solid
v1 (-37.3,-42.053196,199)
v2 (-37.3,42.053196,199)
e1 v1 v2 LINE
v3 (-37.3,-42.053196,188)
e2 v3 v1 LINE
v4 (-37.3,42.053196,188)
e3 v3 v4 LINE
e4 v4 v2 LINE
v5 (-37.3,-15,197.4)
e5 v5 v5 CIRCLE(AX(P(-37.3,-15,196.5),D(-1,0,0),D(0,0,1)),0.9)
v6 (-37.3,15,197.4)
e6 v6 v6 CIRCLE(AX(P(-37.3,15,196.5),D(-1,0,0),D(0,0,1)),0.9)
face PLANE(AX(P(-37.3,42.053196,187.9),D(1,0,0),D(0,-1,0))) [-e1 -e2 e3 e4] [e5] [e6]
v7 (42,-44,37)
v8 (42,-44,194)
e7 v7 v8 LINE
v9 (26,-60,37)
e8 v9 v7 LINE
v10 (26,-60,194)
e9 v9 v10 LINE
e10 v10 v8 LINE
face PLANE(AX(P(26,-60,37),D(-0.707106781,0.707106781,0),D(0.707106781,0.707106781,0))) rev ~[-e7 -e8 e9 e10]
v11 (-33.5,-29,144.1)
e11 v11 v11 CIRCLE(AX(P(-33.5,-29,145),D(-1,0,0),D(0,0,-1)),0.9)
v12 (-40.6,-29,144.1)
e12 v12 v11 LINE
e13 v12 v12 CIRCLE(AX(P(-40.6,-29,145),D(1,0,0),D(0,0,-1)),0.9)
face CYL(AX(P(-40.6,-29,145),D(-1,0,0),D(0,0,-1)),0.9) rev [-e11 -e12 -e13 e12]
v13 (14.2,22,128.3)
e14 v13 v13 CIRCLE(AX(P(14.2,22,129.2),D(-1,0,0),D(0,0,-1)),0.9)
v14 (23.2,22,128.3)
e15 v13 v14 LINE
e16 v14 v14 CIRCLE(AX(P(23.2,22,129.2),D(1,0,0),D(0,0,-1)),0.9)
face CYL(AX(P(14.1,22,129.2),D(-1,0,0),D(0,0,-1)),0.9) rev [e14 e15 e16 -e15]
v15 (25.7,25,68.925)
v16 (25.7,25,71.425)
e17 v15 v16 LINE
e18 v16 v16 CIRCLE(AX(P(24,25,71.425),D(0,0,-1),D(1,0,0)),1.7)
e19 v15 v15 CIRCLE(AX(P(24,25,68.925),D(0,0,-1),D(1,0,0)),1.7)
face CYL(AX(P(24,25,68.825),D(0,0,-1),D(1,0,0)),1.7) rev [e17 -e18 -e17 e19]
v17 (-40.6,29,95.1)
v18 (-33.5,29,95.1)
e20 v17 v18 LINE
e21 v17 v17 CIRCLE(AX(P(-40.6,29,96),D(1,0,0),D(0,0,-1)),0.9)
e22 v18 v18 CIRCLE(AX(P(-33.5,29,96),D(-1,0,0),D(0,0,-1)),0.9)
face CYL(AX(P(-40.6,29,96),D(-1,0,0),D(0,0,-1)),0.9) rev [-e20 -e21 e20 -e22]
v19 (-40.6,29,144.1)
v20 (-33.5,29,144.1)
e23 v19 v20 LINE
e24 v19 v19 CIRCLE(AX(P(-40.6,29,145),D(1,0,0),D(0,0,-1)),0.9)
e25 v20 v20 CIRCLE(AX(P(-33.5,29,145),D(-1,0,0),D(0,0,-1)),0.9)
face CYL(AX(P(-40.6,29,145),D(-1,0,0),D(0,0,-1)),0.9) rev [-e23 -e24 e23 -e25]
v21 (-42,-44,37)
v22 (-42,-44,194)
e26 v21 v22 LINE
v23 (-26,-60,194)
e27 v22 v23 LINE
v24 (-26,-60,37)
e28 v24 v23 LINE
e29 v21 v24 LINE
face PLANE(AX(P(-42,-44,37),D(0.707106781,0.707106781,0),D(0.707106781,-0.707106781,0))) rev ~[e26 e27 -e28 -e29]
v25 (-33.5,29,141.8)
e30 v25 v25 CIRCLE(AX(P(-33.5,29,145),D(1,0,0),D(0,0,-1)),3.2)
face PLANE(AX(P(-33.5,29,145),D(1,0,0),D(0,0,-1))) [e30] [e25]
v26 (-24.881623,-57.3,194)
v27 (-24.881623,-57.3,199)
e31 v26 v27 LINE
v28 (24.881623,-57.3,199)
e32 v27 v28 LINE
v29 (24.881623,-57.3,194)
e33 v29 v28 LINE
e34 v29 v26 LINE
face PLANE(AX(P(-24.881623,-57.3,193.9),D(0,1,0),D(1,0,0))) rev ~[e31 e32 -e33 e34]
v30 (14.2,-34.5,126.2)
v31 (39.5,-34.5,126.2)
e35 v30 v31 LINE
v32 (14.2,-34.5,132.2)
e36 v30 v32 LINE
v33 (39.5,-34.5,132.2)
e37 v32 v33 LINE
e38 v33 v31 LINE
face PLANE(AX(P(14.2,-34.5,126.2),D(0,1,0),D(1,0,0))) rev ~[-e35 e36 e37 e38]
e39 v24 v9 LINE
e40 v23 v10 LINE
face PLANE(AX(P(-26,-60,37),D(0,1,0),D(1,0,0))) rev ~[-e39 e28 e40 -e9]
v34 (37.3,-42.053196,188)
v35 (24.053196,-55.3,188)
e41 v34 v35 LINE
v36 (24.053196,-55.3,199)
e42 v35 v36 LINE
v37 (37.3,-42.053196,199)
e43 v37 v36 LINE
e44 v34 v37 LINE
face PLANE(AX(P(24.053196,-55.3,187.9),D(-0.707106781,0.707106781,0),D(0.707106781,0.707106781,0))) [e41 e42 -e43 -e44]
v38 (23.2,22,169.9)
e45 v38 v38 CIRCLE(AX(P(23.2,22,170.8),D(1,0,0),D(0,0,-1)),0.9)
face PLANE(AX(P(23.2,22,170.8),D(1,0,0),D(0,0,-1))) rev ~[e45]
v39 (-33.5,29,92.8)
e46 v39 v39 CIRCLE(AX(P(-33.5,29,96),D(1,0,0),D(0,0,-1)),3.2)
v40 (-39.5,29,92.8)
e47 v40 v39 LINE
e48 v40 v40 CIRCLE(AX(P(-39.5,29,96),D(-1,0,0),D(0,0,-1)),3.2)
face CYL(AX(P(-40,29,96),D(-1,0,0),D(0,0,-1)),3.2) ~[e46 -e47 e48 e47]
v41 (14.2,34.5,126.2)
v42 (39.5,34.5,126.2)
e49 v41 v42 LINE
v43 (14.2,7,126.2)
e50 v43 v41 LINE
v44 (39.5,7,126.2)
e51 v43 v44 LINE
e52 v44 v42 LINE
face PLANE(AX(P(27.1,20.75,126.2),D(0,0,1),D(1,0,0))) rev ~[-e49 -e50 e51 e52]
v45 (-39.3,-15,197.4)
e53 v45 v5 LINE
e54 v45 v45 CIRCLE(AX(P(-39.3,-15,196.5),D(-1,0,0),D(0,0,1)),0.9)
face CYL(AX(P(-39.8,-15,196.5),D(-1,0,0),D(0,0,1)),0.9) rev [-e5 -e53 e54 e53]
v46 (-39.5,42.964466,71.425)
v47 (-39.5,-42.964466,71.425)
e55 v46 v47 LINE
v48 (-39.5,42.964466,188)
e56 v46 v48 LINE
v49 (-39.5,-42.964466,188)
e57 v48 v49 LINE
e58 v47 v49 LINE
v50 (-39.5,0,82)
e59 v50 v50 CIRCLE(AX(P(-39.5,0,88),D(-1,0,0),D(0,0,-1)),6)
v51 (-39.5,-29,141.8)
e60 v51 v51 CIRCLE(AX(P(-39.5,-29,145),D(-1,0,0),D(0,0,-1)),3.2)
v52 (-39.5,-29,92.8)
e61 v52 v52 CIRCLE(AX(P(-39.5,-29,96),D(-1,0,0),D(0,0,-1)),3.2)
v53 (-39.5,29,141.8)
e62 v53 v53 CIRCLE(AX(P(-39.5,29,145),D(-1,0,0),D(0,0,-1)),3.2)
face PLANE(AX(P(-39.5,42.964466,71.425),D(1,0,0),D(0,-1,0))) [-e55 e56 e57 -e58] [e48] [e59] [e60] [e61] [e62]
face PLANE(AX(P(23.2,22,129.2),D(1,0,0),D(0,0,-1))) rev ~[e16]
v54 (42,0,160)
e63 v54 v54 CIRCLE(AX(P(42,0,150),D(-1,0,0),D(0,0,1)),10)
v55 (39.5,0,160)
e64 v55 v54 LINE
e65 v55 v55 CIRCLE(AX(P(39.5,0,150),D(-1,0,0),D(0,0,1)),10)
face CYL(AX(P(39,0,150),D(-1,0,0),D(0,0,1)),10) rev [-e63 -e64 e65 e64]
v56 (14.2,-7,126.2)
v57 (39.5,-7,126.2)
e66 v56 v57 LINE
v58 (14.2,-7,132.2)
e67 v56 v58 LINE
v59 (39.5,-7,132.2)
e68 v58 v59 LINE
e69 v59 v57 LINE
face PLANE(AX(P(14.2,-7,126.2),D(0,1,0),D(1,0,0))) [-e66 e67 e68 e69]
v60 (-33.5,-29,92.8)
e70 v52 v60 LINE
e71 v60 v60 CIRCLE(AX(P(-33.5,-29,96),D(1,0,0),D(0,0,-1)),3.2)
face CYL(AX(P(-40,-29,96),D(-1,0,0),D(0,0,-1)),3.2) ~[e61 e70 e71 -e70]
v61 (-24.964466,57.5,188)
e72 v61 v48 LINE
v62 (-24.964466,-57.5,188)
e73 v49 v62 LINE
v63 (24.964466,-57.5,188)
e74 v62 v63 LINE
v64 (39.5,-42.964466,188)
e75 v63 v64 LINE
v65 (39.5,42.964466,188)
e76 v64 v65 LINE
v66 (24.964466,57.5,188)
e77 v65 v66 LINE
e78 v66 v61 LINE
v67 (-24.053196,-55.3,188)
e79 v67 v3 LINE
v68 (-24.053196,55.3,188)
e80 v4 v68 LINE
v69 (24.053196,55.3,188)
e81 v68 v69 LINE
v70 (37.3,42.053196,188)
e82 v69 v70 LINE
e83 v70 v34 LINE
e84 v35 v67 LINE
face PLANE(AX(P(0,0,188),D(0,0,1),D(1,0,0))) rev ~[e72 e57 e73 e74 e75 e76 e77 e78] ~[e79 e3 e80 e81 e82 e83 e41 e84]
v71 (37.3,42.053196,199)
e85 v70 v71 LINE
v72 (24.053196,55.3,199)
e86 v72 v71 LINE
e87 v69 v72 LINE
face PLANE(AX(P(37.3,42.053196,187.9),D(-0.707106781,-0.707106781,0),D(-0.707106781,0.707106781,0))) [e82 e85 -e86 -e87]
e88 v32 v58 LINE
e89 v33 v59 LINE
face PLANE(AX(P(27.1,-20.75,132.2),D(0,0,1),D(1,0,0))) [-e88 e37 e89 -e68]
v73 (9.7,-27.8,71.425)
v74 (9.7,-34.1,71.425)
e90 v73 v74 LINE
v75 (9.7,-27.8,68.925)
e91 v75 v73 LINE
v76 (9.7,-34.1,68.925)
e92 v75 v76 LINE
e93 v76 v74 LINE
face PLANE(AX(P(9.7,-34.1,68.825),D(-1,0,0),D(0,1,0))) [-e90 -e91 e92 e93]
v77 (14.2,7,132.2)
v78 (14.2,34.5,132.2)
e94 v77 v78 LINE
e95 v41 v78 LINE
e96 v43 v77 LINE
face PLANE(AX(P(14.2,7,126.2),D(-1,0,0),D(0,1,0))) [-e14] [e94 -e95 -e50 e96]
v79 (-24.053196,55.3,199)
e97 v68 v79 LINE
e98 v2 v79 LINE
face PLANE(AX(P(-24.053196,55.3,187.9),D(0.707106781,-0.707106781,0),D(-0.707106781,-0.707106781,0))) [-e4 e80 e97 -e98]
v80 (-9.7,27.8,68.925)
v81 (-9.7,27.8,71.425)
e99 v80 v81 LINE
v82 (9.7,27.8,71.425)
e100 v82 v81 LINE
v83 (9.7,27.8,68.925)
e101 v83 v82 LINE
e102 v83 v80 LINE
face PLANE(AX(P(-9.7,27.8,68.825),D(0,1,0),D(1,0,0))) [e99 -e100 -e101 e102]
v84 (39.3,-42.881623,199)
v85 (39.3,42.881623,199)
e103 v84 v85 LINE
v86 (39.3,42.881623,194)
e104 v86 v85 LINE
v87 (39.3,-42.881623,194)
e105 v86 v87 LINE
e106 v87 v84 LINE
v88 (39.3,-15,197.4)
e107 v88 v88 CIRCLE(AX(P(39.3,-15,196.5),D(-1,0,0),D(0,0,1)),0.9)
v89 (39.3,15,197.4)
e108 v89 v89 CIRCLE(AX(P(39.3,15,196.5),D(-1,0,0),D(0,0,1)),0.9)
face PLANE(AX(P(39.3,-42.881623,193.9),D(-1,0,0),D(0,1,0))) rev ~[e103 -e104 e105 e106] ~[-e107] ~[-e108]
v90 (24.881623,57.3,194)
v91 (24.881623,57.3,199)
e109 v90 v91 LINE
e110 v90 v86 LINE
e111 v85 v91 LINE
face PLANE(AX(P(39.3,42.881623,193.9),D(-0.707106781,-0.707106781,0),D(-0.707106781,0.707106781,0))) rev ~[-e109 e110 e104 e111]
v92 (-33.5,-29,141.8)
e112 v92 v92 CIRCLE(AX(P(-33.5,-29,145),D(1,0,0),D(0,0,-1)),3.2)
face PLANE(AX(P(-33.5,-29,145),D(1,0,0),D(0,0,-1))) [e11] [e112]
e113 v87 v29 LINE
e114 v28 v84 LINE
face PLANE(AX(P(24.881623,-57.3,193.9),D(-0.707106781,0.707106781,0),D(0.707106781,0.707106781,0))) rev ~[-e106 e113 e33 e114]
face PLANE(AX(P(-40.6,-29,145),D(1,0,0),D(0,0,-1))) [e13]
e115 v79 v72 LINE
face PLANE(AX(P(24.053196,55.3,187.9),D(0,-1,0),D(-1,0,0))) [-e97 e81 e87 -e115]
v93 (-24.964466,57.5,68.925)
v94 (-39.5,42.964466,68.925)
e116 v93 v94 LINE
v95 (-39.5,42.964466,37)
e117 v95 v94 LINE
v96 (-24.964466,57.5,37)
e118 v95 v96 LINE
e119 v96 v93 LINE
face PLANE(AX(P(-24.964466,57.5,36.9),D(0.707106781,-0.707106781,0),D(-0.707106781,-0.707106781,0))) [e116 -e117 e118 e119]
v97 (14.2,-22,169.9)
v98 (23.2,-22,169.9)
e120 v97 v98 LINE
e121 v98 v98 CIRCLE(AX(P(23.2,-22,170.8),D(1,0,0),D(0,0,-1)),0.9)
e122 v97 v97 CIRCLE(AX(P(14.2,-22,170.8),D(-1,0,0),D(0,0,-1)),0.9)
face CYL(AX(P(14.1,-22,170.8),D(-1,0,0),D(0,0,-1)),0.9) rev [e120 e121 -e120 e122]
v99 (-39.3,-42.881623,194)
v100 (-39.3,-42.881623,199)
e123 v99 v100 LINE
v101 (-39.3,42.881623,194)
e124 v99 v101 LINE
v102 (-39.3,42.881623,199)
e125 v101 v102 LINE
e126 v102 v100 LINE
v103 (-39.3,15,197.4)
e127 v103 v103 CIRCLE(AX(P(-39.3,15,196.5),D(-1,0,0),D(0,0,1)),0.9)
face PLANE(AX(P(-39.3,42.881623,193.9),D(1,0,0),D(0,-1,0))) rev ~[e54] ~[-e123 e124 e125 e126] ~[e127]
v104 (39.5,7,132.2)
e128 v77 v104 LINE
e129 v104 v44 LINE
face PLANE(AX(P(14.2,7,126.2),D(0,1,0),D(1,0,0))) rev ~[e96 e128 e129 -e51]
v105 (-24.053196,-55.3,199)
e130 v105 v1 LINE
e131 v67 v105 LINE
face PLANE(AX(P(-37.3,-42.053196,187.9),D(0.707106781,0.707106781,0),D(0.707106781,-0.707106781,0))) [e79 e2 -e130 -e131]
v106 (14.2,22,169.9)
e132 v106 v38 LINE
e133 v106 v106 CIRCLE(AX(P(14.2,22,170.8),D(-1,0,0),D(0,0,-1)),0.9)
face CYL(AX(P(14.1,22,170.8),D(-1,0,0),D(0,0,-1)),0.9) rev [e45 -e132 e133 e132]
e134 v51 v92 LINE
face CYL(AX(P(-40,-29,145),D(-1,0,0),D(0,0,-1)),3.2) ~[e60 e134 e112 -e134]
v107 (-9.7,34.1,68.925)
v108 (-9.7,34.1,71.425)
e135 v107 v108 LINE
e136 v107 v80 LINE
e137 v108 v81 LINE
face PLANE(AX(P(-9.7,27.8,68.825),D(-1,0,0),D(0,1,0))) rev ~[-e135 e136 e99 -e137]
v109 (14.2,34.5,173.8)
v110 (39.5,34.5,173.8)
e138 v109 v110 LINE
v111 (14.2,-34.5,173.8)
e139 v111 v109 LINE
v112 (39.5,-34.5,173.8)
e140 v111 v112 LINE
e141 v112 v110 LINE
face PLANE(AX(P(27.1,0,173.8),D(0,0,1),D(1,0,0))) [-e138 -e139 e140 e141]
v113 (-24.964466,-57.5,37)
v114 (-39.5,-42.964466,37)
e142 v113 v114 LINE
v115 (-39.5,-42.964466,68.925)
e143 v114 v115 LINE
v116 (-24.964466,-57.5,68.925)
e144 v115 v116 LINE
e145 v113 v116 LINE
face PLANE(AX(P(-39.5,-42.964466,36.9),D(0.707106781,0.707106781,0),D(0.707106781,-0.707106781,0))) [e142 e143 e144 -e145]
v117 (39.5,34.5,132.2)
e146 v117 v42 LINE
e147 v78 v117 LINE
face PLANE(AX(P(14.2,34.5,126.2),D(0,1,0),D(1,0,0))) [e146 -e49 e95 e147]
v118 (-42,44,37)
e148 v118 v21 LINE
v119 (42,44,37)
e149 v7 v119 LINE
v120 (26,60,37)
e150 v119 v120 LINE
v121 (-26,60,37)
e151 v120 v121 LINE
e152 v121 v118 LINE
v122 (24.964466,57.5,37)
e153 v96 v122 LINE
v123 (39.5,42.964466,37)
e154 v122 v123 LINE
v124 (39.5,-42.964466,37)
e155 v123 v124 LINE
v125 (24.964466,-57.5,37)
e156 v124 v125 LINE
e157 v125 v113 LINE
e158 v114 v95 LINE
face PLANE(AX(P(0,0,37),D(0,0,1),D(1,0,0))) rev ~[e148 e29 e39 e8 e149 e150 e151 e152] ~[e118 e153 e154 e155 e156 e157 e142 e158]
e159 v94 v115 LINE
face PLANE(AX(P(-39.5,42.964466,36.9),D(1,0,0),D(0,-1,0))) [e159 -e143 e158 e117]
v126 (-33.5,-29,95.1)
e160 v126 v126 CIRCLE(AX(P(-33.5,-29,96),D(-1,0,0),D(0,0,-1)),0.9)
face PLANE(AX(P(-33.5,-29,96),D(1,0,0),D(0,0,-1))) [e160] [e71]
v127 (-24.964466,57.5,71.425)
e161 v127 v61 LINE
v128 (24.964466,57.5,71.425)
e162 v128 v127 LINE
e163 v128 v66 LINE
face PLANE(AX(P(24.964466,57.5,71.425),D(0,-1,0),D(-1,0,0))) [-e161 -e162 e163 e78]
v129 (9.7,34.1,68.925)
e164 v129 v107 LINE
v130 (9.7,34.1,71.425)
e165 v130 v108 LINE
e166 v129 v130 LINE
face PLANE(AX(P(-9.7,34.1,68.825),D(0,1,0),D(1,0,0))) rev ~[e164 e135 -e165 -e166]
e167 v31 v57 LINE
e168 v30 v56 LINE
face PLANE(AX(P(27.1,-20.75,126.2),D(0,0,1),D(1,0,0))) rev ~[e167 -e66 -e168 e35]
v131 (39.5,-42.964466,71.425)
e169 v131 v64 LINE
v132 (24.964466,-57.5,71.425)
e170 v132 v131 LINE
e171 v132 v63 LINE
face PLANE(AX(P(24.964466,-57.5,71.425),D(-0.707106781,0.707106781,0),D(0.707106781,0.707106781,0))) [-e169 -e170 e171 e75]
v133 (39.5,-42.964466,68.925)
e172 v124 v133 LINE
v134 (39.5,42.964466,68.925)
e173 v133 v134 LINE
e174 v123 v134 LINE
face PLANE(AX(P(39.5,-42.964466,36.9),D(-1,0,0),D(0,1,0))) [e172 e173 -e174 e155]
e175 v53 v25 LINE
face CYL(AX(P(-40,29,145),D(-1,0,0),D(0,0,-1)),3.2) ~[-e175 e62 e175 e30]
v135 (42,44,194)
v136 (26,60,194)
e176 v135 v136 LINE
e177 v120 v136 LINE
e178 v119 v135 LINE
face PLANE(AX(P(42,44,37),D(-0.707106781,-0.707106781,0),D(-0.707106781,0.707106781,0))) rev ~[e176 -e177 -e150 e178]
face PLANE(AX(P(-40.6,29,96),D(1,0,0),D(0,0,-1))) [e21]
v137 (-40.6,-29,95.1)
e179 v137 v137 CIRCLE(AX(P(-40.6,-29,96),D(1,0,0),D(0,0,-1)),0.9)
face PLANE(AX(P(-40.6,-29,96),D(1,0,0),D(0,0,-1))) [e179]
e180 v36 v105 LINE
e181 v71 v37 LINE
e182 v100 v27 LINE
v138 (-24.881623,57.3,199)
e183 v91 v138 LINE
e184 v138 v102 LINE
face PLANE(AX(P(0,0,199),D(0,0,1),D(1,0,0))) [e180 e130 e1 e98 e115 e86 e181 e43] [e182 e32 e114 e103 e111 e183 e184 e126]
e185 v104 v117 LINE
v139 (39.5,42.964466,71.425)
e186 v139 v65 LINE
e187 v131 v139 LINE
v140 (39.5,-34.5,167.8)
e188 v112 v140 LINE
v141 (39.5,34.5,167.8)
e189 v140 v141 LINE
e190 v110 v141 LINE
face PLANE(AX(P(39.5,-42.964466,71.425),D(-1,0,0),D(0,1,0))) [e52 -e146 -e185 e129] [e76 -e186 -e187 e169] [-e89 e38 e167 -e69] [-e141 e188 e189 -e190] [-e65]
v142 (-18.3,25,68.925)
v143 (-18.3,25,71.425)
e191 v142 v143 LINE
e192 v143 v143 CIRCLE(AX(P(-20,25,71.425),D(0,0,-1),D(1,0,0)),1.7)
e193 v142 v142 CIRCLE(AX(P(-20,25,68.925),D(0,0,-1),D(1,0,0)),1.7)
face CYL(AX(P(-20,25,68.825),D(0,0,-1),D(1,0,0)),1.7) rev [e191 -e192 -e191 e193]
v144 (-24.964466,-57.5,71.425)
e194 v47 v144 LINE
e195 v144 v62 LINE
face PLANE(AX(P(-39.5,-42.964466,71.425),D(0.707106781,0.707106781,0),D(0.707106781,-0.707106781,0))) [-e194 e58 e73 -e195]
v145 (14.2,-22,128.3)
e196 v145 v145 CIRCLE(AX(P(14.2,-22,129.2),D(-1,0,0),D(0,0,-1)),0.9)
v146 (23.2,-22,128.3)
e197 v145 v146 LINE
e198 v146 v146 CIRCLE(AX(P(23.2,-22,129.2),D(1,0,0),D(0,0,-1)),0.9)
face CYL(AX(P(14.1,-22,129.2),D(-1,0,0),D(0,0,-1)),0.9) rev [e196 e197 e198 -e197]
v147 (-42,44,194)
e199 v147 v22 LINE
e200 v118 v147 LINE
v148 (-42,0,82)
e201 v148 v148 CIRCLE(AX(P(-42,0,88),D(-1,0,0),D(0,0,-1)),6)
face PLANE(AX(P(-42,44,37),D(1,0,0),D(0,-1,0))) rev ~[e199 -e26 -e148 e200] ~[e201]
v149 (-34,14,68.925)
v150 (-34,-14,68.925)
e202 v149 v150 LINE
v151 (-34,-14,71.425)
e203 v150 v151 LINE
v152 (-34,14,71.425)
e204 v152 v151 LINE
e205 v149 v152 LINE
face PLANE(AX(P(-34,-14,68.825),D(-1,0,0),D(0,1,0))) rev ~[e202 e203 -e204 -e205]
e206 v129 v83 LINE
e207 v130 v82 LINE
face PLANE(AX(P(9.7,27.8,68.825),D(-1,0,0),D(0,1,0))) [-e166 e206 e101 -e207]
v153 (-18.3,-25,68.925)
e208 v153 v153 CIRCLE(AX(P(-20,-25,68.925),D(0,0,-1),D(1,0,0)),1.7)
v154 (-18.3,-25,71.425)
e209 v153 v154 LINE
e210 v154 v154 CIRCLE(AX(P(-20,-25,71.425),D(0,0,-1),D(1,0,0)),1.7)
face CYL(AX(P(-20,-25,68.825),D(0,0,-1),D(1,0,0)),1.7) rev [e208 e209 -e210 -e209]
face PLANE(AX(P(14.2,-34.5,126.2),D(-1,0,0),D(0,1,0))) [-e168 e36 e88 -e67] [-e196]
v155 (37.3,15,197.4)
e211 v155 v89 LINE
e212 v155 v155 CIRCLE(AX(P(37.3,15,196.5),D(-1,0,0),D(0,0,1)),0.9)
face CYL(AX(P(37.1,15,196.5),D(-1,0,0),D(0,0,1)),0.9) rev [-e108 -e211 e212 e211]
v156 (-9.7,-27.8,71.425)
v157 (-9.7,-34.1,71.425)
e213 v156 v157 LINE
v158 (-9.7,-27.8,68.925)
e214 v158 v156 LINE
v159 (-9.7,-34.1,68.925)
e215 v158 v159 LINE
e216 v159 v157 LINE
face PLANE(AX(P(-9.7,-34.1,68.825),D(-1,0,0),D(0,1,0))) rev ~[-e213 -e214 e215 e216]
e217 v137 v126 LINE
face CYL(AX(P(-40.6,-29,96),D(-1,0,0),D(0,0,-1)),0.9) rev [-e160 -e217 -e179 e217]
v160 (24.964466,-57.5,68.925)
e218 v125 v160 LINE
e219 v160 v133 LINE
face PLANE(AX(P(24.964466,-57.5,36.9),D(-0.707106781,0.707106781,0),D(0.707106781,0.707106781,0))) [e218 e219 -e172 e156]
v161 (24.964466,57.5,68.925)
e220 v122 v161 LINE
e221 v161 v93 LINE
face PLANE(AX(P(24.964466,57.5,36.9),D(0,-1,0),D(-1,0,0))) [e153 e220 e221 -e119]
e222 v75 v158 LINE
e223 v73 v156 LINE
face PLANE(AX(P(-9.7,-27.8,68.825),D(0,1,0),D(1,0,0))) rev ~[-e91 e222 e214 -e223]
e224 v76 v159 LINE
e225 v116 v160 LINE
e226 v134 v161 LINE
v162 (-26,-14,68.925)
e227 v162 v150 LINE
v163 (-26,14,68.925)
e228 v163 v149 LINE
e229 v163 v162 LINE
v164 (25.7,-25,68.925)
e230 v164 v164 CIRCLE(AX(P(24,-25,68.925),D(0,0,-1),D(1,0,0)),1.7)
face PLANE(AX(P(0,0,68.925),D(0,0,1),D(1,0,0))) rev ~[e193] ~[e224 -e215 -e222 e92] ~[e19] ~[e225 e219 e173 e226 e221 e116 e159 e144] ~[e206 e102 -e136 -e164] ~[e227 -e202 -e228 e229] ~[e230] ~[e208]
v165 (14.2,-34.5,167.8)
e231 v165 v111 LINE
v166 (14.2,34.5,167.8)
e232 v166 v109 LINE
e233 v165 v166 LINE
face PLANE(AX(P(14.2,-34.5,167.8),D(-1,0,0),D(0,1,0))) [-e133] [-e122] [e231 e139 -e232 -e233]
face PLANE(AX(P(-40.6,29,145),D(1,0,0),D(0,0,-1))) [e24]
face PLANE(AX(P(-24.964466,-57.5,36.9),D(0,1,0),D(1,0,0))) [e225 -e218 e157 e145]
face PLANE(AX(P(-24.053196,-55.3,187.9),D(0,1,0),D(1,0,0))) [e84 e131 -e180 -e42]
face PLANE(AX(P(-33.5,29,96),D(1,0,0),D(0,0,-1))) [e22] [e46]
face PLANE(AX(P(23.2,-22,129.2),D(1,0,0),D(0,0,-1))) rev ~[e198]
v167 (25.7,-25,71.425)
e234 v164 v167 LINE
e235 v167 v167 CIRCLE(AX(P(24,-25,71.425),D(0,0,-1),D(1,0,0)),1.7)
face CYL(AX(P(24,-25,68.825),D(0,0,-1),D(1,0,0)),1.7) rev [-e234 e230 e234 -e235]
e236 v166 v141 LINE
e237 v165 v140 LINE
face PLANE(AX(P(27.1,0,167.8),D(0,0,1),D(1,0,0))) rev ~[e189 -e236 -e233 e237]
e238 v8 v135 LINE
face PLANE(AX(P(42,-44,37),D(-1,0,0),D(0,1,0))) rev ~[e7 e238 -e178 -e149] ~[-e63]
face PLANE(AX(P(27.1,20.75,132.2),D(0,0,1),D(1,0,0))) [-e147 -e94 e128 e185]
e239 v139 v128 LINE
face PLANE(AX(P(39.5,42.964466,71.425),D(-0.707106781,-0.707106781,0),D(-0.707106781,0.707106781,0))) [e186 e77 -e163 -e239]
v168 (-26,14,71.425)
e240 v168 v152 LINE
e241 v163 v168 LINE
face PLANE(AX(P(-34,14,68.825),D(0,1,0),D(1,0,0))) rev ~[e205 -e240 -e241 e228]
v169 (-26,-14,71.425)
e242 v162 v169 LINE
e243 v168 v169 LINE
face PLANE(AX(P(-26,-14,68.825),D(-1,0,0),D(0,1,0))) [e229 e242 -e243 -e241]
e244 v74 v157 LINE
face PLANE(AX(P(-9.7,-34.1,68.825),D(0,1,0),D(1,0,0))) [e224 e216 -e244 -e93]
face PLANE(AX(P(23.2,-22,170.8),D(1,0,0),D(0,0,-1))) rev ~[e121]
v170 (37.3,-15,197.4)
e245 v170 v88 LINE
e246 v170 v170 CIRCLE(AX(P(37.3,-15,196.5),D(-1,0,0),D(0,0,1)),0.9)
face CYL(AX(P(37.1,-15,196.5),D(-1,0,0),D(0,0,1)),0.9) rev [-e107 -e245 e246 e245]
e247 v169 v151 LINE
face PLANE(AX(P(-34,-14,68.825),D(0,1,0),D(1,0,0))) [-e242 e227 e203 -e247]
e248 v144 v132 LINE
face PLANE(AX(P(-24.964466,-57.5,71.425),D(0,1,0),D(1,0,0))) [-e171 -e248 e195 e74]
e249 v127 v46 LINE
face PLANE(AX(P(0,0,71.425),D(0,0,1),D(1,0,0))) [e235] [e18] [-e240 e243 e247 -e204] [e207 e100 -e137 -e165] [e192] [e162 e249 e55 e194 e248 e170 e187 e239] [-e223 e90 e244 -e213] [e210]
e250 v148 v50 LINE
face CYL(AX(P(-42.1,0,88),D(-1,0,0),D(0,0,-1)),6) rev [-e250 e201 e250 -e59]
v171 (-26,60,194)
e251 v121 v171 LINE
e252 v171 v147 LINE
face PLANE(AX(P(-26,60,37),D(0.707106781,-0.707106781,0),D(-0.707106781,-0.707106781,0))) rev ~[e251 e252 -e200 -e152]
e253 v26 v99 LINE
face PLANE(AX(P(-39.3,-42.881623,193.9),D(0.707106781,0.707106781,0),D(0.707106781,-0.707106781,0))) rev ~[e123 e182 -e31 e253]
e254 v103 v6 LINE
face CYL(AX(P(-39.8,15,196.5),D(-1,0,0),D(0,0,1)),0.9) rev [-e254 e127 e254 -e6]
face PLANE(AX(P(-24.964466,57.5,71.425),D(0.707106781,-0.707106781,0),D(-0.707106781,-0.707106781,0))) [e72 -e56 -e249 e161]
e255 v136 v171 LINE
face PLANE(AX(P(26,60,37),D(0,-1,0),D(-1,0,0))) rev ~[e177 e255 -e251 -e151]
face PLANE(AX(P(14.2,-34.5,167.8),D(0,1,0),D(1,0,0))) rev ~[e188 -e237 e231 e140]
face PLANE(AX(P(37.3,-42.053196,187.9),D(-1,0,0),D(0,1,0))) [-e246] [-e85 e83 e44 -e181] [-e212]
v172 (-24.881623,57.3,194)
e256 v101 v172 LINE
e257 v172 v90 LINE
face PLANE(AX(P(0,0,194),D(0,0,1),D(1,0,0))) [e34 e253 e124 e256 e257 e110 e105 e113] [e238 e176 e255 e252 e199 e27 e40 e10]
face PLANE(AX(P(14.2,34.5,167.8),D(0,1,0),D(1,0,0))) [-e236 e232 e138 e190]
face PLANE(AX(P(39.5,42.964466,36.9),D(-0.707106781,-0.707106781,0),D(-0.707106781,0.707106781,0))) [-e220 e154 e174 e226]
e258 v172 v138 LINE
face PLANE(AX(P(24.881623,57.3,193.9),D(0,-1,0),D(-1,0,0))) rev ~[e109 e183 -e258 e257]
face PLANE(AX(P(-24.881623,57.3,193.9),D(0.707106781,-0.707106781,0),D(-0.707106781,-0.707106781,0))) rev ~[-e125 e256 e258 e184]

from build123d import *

# Parameters (mm, degrees)
BOSS_1_DEPTH   = 157
CUT_2_DEPTH    = 122.675
CUT_3_DEPTH    = 32.025
S_CUT4_W       = 8
S_CUT4_H       = 28
POCKET_4_DEPTH = 2.7
S_HOLE5_R      = 6
HOLE_5_DEPTH   = 2.7
S_CUT6_W       = 19.4
S_CUT6_H       = 6.3
POCKET_6_DEPTH = 2.7
S_CUT7_W       = 19.4
S_CUT7_H       = 6.3
POCKET_7_DEPTH = 2.7
S_HOLE8_R      = 1.7
HOLE_8_DEPTH   = 2.7
S_HOLE9_R      = 1.7
HOLE_9_DEPTH   = 2.7
S_HOLE10_R     = 1.7
HOLE_10_DEPTH  = 2.7
S_HOLE11_R     = 1.7
HOLE_11_DEPTH  = 2.7
BOSS_12_DEPTH  = 6
BOSS_13_DEPTH  = 5.1
S_CYL14_R      = 3.2
BOSS_14_DEPTH  = 6.5
S_CYL15_R      = 3.2
BOSS_15_DEPTH  = 6.5
S_CYL16_R      = 3.2
BOSS_16_DEPTH  = 6.5
S_CYL17_R      = 3.2
BOSS_17_DEPTH  = 6.5
S_BOX18_W      = 25.8
S_BOX18_H      = 27.5
BOSS_18_DEPTH  = 6
S_BOX19_W      = 25.8
S_BOX19_H      = 27.5
BOSS_19_DEPTH  = 6
S_BOX20_W      = 25.8
S_BOX20_H      = 69
BOSS_20_DEPTH  = 6
CUT_21_DEPTH   = 11.2
S_HOLE22_R     = 0.9
HOLE_22_DEPTH  = 2.7
S_HOLE23_R     = 0.9
HOLE_23_DEPTH  = 2.7
S_HOLE24_R     = 0.9
HOLE_24_DEPTH  = 2.7
S_HOLE25_R     = 0.9
HOLE_25_DEPTH  = 2.7
S_HOLE26_R     = 0.9
HOLE_26_DEPTH  = 7.2
S_HOLE27_R     = 0.9
HOLE_27_DEPTH  = 7.2
S_HOLE28_R     = 0.9
HOLE_28_DEPTH  = 7.2
S_HOLE29_R     = 0.9
HOLE_29_DEPTH  = 7.2
S_HOLE30_R     = 10
HOLE_30_DEPTH  = 3.1
S_HOLE31_R     = 0.9
HOLE_31_DEPTH  = 9.1
S_HOLE32_R     = 0.9
HOLE_32_DEPTH  = 9.1
S_HOLE33_R     = 0.9
HOLE_33_DEPTH  = 9.1
S_HOLE34_R     = 0.9
HOLE_34_DEPTH  = 9.1


with BuildPart() as part:
    # S_prism1 → Boss_1 (new body)
    with BuildSketch(Plane.XY.offset(37)):
        Polygon((42, -44), (42, 44), (26, 60), (-26, 60), (-42, 44), (-42, -44), (-26, -60), (26, -60), align=None)
    extrude(amount=BOSS_1_DEPTH)

    # S_pcut2 → Cut_2 (cut)
    with BuildSketch(Plane.XY.offset(71.425)):
        Polygon((39.5, -42.964466094), (39.5, 42.964466094), (24.964466094, 57.5), (-24.964466094, 57.5), (-39.5, 42.964466094), (-39.5, -42.964466094), (-24.964466094, -57.5), (24.964466094, -57.5), align=None)
    extrude(amount=CUT_2_DEPTH, mode=Mode.SUBTRACT)

    # S_pcut3 → Cut_3 (cut)
    with BuildSketch(Plane.XY.offset(36.9)):
        Polygon((39.5, -42.964466094), (39.5, 42.964466094), (24.964466094, 57.5), (-24.964466094, 57.5), (-39.5, 42.964466094), (-39.5, -42.964466094), (-24.964466094, -57.5), (24.964466094, -57.5), align=None)
    extrude(amount=CUT_3_DEPTH, mode=Mode.SUBTRACT)

    # S_cut4 → Pocket_4 (cut)
    with BuildSketch(Plane.XY.offset(68.825)):
        with Locations((-30, 0)):
            Rectangle(S_CUT4_W, S_CUT4_H)
    extrude(amount=POCKET_4_DEPTH, mode=Mode.SUBTRACT)

    # S_hole5 → Hole_5 (cut)
    with BuildSketch(Plane(origin=(-42.1, 0, 0), x_dir=(0, 0, -1), z_dir=(1, 0, 0))):
        with Locations((-88, 0)):
            Circle(S_HOLE5_R)
    extrude(amount=HOLE_5_DEPTH, mode=Mode.SUBTRACT)

    # S_cut6 → Pocket_6 (cut)
    with BuildSketch(Plane.XY.offset(68.825)):
        with Locations((0, 30.95)):
            Rectangle(S_CUT6_W, S_CUT6_H)
    extrude(amount=POCKET_6_DEPTH, mode=Mode.SUBTRACT)

    # S_cut7 → Pocket_7 (cut)
    with BuildSketch(Plane.XY.offset(68.825)):
        with Locations((0, -30.95)):
            Rectangle(S_CUT7_W, S_CUT7_H)
    extrude(amount=POCKET_7_DEPTH, mode=Mode.SUBTRACT)

    # S_hole8 → Hole_8 (cut)
    with BuildSketch(Plane.XY.offset(68.825)):
        with Locations((-20, -25)):
            Circle(S_HOLE8_R)
    extrude(amount=HOLE_8_DEPTH, mode=Mode.SUBTRACT)

    # S_hole9 → Hole_9 (cut)
    with BuildSketch(Plane.XY.offset(68.825)):
        with Locations((-20, 25)):
            Circle(S_HOLE9_R)
    extrude(amount=HOLE_9_DEPTH, mode=Mode.SUBTRACT)

    # S_hole10 → Hole_10 (cut)
    with BuildSketch(Plane.XY.offset(68.825)):
        with Locations((24, -25)):
            Circle(S_HOLE10_R)
    extrude(amount=HOLE_10_DEPTH, mode=Mode.SUBTRACT)

    # S_hole11 → Hole_11 (cut)
    with BuildSketch(Plane.XY.offset(68.825)):
        with Locations((24, 25)):
            Circle(S_HOLE11_R)
    extrude(amount=HOLE_11_DEPTH, mode=Mode.SUBTRACT)

    # S_prism12 → Boss_12 (add)
    with BuildSketch(Plane.XY.offset(188)):
        Polygon((40, -43.171572875), (40, 43.171572875), (25.171572875, 58), (-25.171572875, 58), (-40, 43.171572875), (-40, -43.171572875), (-25.171572875, -58), (25.171572875, -58), align=None)
    extrude(amount=BOSS_12_DEPTH)

    # S_prism13 → Boss_13 (add)
    with BuildSketch(Plane.XY.offset(193.9)):
        Polygon((39.3, -42.881623382), (39.3, 42.881623382), (24.881623382, 57.3), (-24.881623382, 57.3), (-39.3, 42.881623382), (-39.3, -42.881623382), (-24.881623382, -57.3), (24.881623382, -57.3), align=None)
    extrude(amount=BOSS_13_DEPTH)

    # S_cyl14 → Boss_14 (add)
    with BuildSketch(Plane(origin=(-40, 0, 0), x_dir=(0, 0, -1), z_dir=(1, 0, 0))):
        with Locations((-96, -29)):
            Circle(S_CYL14_R)
    extrude(amount=BOSS_14_DEPTH)

    # S_cyl15 → Boss_15 (add)
    with BuildSketch(Plane(origin=(-40, 0, 0), x_dir=(0, 0, -1), z_dir=(1, 0, 0))):
        with Locations((-145, -29)):
            Circle(S_CYL15_R)
    extrude(amount=BOSS_15_DEPTH)

    # S_cyl16 → Boss_16 (add)
    with BuildSketch(Plane(origin=(-40, 0, 0), x_dir=(0, 0, -1), z_dir=(1, 0, 0))):
        with Locations((-96, 29)):
            Circle(S_CYL16_R)
    extrude(amount=BOSS_16_DEPTH)

    # S_cyl17 → Boss_17 (add)
    with BuildSketch(Plane(origin=(-40, 0, 0), x_dir=(0, 0, -1), z_dir=(1, 0, 0))):
        with Locations((-145, 29)):
            Circle(S_CYL17_R)
    extrude(amount=BOSS_17_DEPTH)

    # S_box18 → Boss_18 (add)
    with BuildSketch(Plane.XY.offset(126.2)):
        with Locations((27.1, -20.75)):
            Rectangle(S_BOX18_W, S_BOX18_H)
    extrude(amount=BOSS_18_DEPTH)

    # S_box19 → Boss_19 (add)
    with BuildSketch(Plane.XY.offset(126.2)):
        with Locations((27.1, 20.75)):
            Rectangle(S_BOX19_W, S_BOX19_H)
    extrude(amount=BOSS_19_DEPTH)

    # S_box20 → Boss_20 (add)
    with BuildSketch(Plane.XY.offset(167.8)):
        with Locations((27.1, 0)):
            Rectangle(S_BOX20_W, S_BOX20_H)
    extrude(amount=BOSS_20_DEPTH)

    # S_pcut21 → Cut_21 (cut)
    with BuildSketch(Plane.XY.offset(187.9)):
        Polygon((37.3, -42.053196257), (37.3, 42.053196257), (24.053196257, 55.3), (-24.053196257, 55.3), (-37.3, 42.053196257), (-37.3, -42.053196257), (-24.053196257, -55.3), (24.053196257, -55.3), align=None)
    extrude(amount=CUT_21_DEPTH, mode=Mode.SUBTRACT)

    # S_hole22 → Hole_22 (cut)
    with BuildSketch(Plane(origin=(37.1, 0, 0), x_dir=(0, 0, -1), z_dir=(1, 0, 0))):
        with Locations((-196.5, -15)):
            Circle(S_HOLE22_R)
    extrude(amount=HOLE_22_DEPTH, mode=Mode.SUBTRACT)

    # S_hole23 → Hole_23 (cut)
    with BuildSketch(Plane(origin=(37.1, 0, 0), x_dir=(0, 0, -1), z_dir=(1, 0, 0))):
        with Locations((-196.5, 15)):
            Circle(S_HOLE23_R)
    extrude(amount=HOLE_23_DEPTH, mode=Mode.SUBTRACT)

    # S_hole24 → Hole_24 (cut)
    with BuildSketch(Plane(origin=(-39.8, 0, 0), x_dir=(0, 0, -1), z_dir=(1, 0, 0))):
        with Locations((-196.5, -15)):
            Circle(S_HOLE24_R)
    extrude(amount=HOLE_24_DEPTH, mode=Mode.SUBTRACT)

    # S_hole25 → Hole_25 (cut)
    with BuildSketch(Plane(origin=(-39.8, 0, 0), x_dir=(0, 0, -1), z_dir=(1, 0, 0))):
        with Locations((-196.5, 15)):
            Circle(S_HOLE25_R)
    extrude(amount=HOLE_25_DEPTH, mode=Mode.SUBTRACT)

    # S_hole26 → Hole_26 (cut)
    with BuildSketch(Plane(origin=(-40.6, 0, 0), x_dir=(0, 0, -1), z_dir=(1, 0, 0))):
        with Locations((-96, -29)):
            Circle(S_HOLE26_R)
    extrude(amount=HOLE_26_DEPTH, mode=Mode.SUBTRACT)

    # S_hole27 → Hole_27 (cut)
    with BuildSketch(Plane(origin=(-40.6, 0, 0), x_dir=(0, 0, -1), z_dir=(1, 0, 0))):
        with Locations((-145, -29)):
            Circle(S_HOLE27_R)
    extrude(amount=HOLE_27_DEPTH, mode=Mode.SUBTRACT)

    # S_hole28 → Hole_28 (cut)
    with BuildSketch(Plane(origin=(-40.6, 0, 0), x_dir=(0, 0, -1), z_dir=(1, 0, 0))):
        with Locations((-96, 29)):
            Circle(S_HOLE28_R)
    extrude(amount=HOLE_28_DEPTH, mode=Mode.SUBTRACT)

    # S_hole29 → Hole_29 (cut)
    with BuildSketch(Plane(origin=(-40.6, 0, 0), x_dir=(0, 0, -1), z_dir=(1, 0, 0))):
        with Locations((-145, 29)):
            Circle(S_HOLE29_R)
    extrude(amount=HOLE_29_DEPTH, mode=Mode.SUBTRACT)

    # S_hole30 → Hole_30 (cut)
    with BuildSketch(Plane(origin=(39, 0, 0), x_dir=(0, 0, -1), z_dir=(1, 0, 0))):
        with Locations((-150, 0)):
            Circle(S_HOLE30_R)
    extrude(amount=HOLE_30_DEPTH, mode=Mode.SUBTRACT)

    # S_hole31 → Hole_31 (cut)
    with BuildSketch(Plane(origin=(14.1, 0, 0), x_dir=(0, 0, -1), z_dir=(1, 0, 0))):
        with Locations((-129.2, -22)):
            Circle(S_HOLE31_R)
    extrude(amount=HOLE_31_DEPTH, mode=Mode.SUBTRACT)

    # S_hole32 → Hole_32 (cut)
    with BuildSketch(Plane(origin=(14.1, 0, 0), x_dir=(0, 0, -1), z_dir=(1, 0, 0))):
        with Locations((-170.8, -22)):
            Circle(S_HOLE32_R)
    extrude(amount=HOLE_32_DEPTH, mode=Mode.SUBTRACT)

    # S_hole33 → Hole_33 (cut)
    with BuildSketch(Plane(origin=(14.1, 0, 0), x_dir=(0, 0, -1), z_dir=(1, 0, 0))):
        with Locations((-129.2, 22)):
            Circle(S_HOLE33_R)
    extrude(amount=HOLE_33_DEPTH, mode=Mode.SUBTRACT)

    # S_hole34 → Hole_34 (cut)
    with BuildSketch(Plane(origin=(14.1, 0, 0), x_dir=(0, 0, -1), z_dir=(1, 0, 0))):
        with Locations((-170.8, 22)):
            Circle(S_HOLE34_R)
    extrude(amount=HOLE_34_DEPTH, mode=Mode.SUBTRACT)


solid = part.part
